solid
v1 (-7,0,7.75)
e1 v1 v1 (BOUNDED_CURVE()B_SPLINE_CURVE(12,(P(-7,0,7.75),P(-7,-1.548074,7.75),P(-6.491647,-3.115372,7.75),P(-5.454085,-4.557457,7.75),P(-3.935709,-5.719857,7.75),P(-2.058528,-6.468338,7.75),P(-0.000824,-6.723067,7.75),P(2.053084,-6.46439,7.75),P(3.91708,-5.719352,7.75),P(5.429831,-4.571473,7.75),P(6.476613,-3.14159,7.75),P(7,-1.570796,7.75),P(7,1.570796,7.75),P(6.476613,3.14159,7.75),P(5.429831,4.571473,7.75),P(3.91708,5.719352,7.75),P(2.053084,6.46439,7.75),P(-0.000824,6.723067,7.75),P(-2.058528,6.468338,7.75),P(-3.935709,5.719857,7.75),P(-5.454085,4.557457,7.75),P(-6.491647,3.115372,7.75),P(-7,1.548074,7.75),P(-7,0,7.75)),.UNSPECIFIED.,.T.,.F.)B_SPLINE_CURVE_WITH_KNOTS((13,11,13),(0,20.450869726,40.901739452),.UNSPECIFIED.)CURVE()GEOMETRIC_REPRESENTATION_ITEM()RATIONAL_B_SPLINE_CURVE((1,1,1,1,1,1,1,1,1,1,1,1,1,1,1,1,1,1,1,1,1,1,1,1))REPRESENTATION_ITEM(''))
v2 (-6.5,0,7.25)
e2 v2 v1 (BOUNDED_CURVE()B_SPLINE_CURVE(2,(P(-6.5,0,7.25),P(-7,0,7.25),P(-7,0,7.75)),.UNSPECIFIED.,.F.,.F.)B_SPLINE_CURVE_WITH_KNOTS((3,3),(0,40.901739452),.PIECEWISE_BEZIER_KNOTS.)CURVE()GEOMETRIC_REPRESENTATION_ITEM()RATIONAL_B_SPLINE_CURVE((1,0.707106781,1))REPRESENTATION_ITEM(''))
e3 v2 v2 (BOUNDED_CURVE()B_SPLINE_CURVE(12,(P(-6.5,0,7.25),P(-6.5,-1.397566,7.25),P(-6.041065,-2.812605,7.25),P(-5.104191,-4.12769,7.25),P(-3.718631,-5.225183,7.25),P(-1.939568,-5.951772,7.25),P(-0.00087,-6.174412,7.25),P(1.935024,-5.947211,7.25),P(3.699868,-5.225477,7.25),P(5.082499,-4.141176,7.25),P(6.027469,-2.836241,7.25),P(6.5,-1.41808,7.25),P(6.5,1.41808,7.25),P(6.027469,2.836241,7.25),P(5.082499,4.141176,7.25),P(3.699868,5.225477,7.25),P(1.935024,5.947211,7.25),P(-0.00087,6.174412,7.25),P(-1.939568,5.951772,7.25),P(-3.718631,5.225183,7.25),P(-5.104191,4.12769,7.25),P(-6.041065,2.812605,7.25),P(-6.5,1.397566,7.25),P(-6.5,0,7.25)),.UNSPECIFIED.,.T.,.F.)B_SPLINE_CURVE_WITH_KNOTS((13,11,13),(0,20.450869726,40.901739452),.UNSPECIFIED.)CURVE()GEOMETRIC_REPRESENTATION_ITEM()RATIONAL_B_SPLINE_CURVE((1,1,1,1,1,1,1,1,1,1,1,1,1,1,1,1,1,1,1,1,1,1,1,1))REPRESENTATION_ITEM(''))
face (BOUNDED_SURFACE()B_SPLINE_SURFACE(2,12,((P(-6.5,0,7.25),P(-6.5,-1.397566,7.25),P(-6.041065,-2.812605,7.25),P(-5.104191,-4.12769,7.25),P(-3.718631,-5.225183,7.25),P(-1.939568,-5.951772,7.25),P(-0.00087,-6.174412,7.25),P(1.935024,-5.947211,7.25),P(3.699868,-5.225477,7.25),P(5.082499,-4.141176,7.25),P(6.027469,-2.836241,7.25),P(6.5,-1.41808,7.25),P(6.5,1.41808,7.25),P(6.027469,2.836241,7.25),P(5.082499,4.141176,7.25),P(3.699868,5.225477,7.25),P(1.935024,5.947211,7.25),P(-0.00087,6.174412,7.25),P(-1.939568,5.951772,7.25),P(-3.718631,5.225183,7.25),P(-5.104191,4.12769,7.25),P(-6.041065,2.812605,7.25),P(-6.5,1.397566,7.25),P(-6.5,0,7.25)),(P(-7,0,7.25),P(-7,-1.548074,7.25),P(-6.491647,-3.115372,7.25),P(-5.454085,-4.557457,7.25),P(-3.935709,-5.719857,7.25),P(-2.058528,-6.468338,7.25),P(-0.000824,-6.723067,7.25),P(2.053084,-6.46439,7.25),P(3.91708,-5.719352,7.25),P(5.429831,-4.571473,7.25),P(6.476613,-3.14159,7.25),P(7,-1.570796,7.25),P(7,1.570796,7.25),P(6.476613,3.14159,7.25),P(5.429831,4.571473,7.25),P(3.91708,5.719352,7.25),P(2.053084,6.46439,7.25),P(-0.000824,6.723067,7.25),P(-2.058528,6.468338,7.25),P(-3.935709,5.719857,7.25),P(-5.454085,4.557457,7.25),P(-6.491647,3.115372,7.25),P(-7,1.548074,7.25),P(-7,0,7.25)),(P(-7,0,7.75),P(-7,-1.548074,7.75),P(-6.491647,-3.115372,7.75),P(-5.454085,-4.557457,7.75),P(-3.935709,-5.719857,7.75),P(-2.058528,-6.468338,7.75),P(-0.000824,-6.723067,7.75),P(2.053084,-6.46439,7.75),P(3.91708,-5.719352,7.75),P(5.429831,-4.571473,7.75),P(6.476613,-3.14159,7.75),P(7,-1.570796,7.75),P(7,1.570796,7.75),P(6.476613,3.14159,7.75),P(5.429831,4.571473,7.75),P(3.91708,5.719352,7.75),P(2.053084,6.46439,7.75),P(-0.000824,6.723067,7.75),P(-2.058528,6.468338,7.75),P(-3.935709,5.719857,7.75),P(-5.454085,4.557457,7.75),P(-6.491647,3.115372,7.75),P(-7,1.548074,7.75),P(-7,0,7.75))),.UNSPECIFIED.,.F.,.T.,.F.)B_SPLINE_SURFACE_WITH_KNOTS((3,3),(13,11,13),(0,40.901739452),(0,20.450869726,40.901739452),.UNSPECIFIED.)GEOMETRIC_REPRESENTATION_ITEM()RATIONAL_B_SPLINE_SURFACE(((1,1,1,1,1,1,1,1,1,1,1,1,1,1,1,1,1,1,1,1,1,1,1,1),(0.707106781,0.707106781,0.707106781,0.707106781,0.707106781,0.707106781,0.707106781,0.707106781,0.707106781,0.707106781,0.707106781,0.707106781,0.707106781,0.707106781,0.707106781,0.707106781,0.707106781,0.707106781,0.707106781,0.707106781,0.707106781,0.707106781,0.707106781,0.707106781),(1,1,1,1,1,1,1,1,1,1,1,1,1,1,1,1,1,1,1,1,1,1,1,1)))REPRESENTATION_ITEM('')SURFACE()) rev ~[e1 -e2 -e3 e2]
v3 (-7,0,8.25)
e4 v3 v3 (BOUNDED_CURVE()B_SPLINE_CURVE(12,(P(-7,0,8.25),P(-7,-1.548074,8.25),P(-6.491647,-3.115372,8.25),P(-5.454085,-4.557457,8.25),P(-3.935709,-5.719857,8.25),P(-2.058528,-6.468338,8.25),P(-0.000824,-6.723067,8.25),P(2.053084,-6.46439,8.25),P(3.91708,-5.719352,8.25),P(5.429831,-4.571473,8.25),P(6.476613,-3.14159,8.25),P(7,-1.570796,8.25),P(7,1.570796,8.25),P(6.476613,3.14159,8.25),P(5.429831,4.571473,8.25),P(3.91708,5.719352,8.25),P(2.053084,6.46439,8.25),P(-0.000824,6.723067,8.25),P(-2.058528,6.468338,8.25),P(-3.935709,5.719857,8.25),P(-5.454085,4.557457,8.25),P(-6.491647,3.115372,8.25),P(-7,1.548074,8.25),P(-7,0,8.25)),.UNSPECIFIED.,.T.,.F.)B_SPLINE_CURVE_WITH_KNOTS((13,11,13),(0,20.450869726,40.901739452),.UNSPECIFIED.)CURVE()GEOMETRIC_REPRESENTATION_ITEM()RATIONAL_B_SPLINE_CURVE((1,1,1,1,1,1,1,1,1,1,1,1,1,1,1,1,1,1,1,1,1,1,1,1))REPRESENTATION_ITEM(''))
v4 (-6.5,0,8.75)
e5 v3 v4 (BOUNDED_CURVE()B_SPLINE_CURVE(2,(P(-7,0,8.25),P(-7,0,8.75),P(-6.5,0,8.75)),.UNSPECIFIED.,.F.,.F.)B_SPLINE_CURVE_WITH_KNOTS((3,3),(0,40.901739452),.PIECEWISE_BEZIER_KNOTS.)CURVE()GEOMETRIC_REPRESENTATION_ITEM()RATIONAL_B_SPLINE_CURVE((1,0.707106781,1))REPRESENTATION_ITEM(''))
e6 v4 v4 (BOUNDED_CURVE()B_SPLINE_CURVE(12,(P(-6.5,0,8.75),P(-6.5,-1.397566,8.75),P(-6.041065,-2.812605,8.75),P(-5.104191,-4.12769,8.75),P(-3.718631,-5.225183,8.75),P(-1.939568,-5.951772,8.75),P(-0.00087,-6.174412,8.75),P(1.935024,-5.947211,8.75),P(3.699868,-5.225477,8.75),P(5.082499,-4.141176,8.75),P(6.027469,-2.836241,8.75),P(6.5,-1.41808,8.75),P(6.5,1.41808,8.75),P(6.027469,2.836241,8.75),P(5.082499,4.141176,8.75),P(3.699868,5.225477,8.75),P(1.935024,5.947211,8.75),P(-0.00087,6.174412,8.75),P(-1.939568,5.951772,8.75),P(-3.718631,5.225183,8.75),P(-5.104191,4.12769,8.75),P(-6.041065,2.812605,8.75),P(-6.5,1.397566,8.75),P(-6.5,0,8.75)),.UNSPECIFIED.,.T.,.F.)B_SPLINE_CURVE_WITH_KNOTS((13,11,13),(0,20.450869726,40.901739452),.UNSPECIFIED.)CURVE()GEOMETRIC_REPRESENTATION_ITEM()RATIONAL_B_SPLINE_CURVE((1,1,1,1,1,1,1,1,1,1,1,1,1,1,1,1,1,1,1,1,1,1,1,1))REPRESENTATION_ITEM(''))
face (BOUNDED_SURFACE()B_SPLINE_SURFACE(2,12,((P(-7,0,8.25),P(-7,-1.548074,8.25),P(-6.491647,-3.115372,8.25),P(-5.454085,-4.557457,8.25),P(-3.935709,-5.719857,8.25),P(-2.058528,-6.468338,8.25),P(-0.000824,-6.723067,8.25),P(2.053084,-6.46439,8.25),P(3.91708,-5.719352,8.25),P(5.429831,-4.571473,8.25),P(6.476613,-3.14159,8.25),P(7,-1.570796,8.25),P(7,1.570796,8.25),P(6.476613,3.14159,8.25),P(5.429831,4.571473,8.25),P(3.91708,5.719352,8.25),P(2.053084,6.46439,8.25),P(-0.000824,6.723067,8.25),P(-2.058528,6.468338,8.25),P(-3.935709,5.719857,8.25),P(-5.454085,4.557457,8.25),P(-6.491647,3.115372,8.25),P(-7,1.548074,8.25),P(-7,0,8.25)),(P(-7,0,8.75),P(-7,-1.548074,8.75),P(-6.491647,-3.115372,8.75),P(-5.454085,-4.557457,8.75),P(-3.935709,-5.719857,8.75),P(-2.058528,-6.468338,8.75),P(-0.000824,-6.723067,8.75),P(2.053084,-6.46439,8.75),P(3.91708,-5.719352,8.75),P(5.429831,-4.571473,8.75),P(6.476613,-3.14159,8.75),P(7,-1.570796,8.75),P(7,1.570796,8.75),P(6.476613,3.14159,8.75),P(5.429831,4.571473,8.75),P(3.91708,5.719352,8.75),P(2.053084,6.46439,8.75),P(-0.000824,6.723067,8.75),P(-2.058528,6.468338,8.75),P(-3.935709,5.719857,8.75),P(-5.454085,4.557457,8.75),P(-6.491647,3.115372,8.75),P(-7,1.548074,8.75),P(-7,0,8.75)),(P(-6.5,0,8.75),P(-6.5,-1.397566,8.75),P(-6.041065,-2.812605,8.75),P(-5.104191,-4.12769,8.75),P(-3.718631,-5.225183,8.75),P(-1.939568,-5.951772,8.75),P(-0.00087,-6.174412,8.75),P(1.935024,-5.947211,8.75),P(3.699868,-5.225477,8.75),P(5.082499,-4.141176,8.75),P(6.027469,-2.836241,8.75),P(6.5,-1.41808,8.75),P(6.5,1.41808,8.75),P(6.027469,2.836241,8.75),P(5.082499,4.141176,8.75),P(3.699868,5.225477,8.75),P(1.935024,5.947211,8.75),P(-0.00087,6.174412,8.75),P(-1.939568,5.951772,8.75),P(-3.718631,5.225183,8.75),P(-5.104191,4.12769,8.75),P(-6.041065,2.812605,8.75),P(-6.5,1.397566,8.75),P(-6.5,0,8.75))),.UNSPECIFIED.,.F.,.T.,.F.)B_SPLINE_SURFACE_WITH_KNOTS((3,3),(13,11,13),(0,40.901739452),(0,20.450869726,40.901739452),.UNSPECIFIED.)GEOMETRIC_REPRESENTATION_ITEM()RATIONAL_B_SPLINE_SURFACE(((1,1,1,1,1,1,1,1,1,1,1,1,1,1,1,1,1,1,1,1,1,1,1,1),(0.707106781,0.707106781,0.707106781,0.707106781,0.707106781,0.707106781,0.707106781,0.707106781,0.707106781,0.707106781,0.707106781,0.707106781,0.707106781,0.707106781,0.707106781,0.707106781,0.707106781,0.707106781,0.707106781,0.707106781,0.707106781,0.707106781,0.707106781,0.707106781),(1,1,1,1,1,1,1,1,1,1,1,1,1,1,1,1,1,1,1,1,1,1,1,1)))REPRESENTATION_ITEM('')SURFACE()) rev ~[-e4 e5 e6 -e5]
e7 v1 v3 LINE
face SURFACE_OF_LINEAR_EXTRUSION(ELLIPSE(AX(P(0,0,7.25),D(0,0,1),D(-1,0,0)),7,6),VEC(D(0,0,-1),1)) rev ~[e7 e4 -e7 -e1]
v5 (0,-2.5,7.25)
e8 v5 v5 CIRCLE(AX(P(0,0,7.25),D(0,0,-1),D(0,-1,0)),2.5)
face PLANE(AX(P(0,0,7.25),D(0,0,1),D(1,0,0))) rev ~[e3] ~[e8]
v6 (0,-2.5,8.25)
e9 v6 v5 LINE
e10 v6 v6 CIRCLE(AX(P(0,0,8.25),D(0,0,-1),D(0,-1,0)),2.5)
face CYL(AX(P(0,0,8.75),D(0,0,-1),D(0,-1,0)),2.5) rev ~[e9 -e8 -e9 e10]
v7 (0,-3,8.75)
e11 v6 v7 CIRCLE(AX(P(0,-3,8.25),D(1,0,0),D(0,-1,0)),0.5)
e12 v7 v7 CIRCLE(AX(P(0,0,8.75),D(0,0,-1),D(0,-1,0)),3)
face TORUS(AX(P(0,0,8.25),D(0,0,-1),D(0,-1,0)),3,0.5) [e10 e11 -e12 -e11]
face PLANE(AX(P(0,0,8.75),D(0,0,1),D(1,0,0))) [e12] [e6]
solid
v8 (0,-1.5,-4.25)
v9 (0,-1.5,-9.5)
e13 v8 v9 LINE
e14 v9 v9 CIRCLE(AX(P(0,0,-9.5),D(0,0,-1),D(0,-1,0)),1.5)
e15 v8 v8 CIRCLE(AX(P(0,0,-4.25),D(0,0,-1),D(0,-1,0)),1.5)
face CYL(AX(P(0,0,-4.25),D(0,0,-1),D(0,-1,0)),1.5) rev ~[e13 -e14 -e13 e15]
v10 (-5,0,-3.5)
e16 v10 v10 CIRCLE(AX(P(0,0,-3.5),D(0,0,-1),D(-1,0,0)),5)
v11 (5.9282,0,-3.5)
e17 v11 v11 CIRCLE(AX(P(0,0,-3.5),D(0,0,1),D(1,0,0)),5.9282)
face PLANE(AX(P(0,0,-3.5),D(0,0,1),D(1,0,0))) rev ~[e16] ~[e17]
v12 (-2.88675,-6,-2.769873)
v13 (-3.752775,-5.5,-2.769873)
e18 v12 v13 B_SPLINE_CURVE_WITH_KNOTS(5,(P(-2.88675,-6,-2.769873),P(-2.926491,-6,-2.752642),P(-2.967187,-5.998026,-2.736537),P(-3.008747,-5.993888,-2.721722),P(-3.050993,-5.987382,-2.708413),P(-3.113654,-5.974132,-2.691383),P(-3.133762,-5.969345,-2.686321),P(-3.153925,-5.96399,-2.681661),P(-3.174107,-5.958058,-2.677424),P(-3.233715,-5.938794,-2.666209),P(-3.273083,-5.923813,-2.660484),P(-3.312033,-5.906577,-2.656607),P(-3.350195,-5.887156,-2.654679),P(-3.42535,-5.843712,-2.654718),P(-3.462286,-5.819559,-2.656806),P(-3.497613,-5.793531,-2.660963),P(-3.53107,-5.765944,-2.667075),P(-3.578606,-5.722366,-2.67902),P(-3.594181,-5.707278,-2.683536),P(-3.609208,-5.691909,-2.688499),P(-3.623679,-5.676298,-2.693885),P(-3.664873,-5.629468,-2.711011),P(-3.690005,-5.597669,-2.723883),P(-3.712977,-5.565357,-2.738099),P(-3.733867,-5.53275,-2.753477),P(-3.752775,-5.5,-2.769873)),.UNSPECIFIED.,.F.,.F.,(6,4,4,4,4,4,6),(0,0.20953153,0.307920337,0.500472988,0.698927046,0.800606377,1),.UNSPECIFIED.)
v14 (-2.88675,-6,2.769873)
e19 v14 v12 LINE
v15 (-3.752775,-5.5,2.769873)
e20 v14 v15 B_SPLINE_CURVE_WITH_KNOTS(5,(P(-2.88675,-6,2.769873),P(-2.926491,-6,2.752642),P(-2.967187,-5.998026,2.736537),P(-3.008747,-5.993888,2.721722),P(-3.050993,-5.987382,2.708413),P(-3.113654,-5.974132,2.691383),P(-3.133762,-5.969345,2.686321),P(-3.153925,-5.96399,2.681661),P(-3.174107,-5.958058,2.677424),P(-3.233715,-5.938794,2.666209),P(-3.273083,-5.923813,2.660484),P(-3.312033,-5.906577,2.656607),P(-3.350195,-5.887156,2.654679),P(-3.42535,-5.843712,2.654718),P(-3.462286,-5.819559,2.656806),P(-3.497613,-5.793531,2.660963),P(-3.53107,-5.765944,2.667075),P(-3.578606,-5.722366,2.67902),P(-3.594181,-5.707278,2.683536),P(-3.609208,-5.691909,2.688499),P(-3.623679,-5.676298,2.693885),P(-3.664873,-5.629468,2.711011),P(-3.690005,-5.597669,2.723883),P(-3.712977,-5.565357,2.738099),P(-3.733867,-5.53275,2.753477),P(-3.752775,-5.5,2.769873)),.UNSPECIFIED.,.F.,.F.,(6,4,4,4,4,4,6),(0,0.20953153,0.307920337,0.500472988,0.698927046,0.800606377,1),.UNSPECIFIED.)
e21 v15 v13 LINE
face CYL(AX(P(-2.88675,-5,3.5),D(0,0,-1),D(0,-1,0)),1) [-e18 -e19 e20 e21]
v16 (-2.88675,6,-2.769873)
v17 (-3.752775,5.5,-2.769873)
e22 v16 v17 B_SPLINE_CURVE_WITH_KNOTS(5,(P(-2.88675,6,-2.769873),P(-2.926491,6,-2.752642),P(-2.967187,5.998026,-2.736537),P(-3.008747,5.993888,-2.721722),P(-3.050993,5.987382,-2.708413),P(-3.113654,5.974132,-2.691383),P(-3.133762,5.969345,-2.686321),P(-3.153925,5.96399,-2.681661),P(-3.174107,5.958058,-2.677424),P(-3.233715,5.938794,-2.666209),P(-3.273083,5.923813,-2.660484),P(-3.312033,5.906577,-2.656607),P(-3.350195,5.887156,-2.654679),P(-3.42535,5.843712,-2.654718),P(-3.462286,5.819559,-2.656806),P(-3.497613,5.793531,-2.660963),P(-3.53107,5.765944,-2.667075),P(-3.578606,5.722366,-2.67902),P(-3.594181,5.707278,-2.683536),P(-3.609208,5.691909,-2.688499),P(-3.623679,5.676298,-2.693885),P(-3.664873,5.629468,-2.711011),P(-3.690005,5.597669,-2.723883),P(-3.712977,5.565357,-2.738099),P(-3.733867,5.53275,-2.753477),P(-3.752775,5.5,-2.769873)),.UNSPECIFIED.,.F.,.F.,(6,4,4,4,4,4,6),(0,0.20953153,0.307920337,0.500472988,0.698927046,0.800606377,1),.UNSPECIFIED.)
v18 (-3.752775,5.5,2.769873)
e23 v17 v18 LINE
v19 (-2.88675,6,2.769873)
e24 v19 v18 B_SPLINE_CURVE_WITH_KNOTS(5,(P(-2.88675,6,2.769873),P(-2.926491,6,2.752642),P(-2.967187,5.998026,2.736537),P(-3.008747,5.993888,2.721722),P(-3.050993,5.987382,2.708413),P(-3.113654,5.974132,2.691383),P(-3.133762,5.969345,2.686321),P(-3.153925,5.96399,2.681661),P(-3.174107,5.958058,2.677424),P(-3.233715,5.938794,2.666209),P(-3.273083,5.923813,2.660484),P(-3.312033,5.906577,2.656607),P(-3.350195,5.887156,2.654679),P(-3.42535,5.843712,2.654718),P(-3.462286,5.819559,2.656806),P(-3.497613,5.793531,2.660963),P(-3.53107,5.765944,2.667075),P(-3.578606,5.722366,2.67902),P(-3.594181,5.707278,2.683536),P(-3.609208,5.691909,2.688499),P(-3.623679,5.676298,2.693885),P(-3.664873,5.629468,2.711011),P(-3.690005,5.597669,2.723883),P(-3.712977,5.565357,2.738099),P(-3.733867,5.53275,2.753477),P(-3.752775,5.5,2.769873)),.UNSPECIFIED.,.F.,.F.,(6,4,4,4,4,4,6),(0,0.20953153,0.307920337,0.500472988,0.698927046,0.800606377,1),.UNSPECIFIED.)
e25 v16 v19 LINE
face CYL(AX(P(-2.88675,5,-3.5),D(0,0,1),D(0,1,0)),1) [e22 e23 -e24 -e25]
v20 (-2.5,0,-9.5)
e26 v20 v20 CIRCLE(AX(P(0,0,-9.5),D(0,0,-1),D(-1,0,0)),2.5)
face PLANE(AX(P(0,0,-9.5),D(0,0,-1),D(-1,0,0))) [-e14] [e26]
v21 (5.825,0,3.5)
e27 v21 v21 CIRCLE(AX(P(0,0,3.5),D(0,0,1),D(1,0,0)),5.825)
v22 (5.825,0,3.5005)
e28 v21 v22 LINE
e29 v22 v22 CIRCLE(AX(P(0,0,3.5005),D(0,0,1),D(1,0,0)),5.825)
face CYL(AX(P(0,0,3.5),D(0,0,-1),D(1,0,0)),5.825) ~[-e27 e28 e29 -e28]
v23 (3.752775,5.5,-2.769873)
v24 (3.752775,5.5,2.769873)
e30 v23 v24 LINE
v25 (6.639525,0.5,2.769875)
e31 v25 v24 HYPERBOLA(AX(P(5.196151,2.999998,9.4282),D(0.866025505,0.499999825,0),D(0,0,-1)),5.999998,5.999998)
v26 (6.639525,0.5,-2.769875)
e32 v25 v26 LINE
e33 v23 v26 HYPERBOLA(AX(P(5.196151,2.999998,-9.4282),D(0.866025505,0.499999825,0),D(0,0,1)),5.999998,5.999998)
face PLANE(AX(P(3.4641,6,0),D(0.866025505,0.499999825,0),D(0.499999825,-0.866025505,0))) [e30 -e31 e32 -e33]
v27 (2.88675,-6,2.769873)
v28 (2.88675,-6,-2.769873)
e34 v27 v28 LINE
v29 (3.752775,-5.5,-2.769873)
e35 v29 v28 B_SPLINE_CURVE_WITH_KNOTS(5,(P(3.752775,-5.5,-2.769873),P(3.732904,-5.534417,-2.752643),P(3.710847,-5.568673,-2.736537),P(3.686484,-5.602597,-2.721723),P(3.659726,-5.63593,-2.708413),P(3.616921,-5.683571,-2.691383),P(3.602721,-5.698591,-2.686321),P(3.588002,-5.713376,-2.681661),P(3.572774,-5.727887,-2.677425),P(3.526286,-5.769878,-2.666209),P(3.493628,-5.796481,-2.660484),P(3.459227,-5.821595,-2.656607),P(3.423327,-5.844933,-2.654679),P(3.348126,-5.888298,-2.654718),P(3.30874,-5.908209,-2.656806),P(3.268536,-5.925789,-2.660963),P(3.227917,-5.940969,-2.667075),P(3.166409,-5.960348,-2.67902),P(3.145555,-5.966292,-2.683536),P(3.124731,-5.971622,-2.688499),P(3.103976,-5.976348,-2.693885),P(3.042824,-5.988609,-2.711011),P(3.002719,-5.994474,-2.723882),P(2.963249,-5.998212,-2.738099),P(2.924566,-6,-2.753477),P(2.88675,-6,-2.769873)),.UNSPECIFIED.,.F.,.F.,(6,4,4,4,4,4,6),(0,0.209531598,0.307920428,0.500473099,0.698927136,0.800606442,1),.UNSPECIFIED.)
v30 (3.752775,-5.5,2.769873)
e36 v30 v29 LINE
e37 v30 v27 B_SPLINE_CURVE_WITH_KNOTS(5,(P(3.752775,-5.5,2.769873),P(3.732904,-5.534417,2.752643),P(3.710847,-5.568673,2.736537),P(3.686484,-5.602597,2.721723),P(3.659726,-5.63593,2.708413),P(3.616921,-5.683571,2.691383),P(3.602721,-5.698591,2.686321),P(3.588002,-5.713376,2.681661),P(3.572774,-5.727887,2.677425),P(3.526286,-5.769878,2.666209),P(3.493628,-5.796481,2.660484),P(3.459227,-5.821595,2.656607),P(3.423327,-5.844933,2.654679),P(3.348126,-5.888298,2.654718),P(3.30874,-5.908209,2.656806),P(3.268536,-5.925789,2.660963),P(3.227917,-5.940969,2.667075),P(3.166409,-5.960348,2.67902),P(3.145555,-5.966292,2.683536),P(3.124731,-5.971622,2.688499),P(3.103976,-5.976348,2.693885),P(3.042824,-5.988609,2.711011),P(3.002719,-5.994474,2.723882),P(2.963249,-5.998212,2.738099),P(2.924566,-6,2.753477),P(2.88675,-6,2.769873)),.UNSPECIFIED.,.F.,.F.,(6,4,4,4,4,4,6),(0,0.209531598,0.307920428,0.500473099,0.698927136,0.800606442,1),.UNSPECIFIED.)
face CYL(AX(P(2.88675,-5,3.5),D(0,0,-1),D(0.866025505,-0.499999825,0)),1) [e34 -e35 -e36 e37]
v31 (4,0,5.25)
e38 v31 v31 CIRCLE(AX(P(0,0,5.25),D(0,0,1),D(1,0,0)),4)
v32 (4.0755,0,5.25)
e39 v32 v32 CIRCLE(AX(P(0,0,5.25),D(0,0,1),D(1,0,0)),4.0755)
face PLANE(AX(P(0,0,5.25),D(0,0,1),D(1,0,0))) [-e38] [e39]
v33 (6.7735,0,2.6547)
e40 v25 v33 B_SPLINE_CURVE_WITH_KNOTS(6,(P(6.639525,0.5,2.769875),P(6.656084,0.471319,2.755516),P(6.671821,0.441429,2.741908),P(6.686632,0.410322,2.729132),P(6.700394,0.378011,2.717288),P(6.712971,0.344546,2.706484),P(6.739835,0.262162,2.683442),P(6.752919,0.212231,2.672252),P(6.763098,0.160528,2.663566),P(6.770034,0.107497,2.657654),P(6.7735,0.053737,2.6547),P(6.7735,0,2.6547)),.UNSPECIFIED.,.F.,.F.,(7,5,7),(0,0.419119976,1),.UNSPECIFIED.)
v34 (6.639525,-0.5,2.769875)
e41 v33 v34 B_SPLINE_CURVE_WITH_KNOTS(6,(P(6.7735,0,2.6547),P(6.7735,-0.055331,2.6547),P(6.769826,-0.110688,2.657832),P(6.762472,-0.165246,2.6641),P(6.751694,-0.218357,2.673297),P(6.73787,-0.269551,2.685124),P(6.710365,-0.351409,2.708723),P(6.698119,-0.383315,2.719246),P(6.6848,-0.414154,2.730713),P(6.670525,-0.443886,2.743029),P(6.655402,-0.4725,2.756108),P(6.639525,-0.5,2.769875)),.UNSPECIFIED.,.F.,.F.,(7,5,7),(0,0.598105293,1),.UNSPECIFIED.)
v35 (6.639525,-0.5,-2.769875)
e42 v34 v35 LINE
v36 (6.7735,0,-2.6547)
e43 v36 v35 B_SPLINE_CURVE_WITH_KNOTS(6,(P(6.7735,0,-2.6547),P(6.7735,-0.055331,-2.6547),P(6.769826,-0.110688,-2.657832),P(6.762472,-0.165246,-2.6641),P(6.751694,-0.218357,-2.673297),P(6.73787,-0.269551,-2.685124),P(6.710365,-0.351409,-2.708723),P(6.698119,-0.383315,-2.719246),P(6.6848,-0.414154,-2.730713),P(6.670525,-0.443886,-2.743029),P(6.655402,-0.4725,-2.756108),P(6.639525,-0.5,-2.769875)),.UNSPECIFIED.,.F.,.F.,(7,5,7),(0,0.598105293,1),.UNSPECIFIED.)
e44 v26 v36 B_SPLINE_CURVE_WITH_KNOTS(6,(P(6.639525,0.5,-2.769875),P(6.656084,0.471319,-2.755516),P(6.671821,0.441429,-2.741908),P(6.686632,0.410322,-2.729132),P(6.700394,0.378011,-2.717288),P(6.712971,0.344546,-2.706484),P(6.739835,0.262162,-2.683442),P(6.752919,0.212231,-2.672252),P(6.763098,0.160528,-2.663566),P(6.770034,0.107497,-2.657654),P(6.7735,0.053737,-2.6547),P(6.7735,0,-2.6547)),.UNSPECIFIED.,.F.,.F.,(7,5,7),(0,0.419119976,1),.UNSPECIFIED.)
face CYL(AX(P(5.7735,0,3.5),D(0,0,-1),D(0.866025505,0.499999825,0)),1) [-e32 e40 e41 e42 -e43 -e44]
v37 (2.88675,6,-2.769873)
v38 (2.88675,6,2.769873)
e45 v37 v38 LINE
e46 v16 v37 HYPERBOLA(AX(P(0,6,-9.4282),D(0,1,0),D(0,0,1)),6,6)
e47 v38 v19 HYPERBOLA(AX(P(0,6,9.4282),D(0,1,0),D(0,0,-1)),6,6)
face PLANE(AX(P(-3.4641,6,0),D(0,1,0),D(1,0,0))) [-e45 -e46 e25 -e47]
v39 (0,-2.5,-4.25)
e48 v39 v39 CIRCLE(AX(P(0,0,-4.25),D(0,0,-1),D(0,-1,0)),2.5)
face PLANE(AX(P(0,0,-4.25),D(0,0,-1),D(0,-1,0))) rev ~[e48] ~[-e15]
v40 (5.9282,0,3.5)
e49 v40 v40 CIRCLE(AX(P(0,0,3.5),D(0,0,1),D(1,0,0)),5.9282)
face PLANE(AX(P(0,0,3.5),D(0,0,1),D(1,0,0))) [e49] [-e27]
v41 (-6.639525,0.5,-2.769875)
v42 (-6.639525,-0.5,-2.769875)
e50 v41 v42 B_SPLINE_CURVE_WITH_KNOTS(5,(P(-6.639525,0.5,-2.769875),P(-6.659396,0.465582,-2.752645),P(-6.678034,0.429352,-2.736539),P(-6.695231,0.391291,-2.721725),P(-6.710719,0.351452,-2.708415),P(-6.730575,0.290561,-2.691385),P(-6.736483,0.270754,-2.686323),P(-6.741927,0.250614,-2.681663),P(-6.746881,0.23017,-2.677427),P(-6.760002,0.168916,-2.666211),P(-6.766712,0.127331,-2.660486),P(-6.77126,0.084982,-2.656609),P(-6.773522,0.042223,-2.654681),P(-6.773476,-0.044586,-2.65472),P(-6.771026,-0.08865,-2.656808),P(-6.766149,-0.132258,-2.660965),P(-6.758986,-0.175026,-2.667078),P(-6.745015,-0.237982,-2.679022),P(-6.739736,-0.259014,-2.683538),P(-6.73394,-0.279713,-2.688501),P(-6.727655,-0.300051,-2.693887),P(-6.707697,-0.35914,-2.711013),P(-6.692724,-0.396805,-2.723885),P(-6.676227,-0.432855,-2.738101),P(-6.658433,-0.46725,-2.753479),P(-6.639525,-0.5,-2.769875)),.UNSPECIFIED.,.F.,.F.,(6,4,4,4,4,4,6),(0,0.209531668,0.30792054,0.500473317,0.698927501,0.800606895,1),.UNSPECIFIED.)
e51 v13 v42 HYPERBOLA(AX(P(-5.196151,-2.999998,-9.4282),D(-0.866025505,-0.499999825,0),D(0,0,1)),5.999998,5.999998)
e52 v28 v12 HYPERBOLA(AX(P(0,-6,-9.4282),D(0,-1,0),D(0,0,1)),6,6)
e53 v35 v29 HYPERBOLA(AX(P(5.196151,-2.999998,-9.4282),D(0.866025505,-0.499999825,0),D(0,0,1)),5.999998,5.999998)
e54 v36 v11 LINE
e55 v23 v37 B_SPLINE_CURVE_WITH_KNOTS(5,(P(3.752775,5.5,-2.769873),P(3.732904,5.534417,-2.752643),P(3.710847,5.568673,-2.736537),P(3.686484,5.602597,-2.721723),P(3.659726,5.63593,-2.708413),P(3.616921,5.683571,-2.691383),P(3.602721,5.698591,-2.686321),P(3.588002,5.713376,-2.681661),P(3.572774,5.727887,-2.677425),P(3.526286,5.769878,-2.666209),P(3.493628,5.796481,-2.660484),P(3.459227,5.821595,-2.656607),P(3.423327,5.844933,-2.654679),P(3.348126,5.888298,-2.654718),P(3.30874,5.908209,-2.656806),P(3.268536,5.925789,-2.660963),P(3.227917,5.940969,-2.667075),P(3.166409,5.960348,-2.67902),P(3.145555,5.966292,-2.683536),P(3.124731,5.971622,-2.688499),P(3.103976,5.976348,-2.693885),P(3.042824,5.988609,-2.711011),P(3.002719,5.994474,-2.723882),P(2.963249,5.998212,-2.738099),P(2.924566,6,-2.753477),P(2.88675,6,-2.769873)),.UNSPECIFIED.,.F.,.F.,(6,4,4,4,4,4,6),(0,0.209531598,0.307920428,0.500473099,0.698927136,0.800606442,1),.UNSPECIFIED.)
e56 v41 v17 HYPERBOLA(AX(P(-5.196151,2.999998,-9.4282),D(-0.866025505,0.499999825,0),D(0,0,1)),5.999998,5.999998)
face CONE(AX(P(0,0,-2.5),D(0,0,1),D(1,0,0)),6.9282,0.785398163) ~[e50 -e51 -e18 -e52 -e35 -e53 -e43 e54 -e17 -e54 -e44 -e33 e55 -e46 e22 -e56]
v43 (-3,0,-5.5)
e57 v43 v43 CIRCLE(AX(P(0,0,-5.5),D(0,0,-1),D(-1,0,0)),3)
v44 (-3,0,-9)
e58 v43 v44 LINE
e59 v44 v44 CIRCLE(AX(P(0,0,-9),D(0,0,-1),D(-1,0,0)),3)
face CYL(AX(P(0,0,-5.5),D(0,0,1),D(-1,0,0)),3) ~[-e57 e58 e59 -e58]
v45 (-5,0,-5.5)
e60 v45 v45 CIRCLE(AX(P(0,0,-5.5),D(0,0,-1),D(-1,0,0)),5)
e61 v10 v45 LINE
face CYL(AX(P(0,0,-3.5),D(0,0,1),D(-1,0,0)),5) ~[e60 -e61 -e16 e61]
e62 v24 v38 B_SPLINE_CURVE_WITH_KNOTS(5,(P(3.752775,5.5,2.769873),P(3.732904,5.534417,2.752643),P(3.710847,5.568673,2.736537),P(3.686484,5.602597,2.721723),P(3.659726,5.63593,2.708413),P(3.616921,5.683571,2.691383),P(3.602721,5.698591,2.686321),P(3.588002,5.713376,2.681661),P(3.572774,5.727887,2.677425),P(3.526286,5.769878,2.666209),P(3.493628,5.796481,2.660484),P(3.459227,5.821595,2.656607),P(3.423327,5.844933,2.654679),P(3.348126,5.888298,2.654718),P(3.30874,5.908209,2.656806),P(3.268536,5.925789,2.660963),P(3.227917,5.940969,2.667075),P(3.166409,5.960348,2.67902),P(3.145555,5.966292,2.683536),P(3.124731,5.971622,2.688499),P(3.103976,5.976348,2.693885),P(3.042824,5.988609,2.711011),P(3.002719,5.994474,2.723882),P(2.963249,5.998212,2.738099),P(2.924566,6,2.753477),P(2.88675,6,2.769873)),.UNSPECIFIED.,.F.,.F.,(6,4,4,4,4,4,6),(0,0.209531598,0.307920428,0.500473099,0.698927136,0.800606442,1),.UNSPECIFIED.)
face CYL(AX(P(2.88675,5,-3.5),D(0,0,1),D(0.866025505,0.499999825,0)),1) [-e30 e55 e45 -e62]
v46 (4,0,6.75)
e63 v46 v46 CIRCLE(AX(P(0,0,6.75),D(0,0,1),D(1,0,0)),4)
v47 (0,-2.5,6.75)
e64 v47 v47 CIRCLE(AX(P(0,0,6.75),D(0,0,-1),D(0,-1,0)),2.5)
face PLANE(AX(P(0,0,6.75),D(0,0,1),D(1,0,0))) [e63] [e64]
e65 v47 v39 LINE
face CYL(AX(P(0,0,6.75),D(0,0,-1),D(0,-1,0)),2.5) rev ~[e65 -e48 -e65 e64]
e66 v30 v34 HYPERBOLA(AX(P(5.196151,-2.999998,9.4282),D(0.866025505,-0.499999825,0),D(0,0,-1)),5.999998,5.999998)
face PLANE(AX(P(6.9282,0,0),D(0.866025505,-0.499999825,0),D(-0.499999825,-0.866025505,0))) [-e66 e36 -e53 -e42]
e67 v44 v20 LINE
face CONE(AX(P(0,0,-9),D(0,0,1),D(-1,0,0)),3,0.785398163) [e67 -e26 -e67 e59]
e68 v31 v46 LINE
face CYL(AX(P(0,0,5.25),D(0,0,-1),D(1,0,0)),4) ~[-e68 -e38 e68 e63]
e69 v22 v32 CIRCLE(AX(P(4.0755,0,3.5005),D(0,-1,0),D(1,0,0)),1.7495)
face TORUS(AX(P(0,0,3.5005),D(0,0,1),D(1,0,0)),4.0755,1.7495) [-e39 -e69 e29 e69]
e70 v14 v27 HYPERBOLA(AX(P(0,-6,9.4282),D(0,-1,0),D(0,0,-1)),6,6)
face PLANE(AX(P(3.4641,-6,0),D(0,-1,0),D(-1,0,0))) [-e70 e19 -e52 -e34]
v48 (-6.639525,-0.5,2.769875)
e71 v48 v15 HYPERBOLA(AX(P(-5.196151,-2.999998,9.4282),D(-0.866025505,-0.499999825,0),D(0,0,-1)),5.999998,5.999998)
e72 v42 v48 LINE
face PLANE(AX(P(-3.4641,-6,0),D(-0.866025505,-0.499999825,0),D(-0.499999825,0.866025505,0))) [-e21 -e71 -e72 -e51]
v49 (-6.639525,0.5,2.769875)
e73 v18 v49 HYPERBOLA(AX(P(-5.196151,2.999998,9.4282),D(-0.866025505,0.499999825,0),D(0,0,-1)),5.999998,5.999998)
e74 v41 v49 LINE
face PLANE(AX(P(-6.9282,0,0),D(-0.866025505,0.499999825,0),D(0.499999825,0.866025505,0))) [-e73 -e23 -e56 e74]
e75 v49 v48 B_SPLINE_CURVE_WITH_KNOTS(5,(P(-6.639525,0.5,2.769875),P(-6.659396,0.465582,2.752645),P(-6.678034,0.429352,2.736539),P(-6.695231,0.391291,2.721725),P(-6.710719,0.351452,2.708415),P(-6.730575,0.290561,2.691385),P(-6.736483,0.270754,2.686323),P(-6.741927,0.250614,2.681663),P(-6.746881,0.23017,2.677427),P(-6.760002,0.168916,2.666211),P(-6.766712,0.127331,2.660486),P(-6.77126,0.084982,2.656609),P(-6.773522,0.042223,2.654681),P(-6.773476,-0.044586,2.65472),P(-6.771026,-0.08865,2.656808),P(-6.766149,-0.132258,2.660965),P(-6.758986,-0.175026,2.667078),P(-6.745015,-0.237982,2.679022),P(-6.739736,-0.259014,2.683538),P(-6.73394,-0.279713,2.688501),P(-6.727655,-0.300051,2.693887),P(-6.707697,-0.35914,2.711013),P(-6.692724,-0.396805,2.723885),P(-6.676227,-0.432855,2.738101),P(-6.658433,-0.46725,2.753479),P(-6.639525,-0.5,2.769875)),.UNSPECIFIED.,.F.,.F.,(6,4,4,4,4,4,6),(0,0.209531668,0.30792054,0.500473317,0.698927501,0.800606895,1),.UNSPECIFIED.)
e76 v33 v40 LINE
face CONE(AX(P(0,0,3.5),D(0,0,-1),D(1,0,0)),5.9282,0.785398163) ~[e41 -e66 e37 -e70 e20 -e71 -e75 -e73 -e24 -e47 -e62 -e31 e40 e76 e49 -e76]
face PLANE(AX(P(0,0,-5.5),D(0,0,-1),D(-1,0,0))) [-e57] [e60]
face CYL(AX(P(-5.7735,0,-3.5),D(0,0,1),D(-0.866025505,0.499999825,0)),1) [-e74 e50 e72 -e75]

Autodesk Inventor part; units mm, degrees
ref_plane "YZ Plane" through (0, 0, 0) normal (1, 0, 0) x (0, 1, 0)
ref_plane "XZ Plane" through (0, 0, 0) normal (0, 1, 0) x (-1, 0, 0)
sketch "Esquisse1" plane through (0, 0, 0) normal (0, 0, 1) x (1, 0, 0)
  line L0 (3.4641, 6) -> (6.9282, 0)
  line L1 (6.9282, 0) -> (3.4641, -6)
  line L2 (3.4641, -6) -> (-3.4641, -6)
  line L3 (-3.4641, -6) -> (-6.9282, 0)
  line L4 (-6.9282, 0) -> (-3.4641, 6)
  line L5 (-3.4641, 6) -> (3.4641, 6)
  point P0 (0, 0)
  point P1 (0, 0)
  dimension "d0" = 12
extrude "Extrusion1" add sketch "Esquisse1" along normal mid plane 7
fillet "Congé2" radius 1 6 edges at (-6.9282, 0, 0) (-3.4641, -6, 0) (3.4641, -6, 0) (6.9282, 0, 0) (3.4641, 6, 0) (-3.4641, 6, 0)
sketch "Esquisse5" plane through (0, 0, 0) normal (0, 1, 0) x (-1, 0, 0)
  line L0 (-6.9282, 3.5) -> (-3.4641, 3.5) projected
  line L1 (-5.9282, 3.5) -> (-6.9282, 2.5)
  line L2 (-6.9282, 2.5) -> (-6.9282, -2.5)
  line L3 (-6.9282, -2.5) -> (-5.9282, -3.5)
  line L4 (-3.4641, -3.5) -> (-6.9282, -3.5) projected
  line L5 (-5.9282, -4.5) -> (-5.9282, -3.5)
  line L6 (-5.9282, -4.5) -> (-7.9282, -4.5)
  line L7 (-7.9282, -4.5) -> (-7.9282, 4.5)
  line L8 (-7.9282, 4.5) -> (-5.9282, 4.5)
  line L9 (-5.9282, 4.5) -> (-5.9282, 3.5)
  line L10 (-6.6395, 3.5) -> (-3.7528, 3.5) construction
  line L11 (-3.7528, -3.5) -> (-6.6395, -3.5) construction
  line L12 (0, -6.3) -> (0, 6.3) projected
  line L13 (-3.7528, 3.5) -> (-3.7528, -3.5) projected
  line L14 (-6.6395, -3.5) -> (-6.6395, 3.5) projected
  point P0 (0, 0)
  dimension "d13" = 45
  dimension "d14" = 1
  dimension "d15" = 1
  dimension "d16" = 1
  dimension "d17" = 1
revolve "Révolution1" cut sketch "Esquisse5" angle 360 about axis through (0, 0, -10) along (0, 0, 1) contours L14 L1 L2 L3 L4 L5 L6 L7 L8 L9 L0 | L0 L1 L14 | L3 L4 L14
sketch "Esquisse2" plane through (0, 0, -3.5) normal (0, 0, -1) x (-1, 0, 0)
  circle A0 centre (0, 0) radius 5
  dimension "d3" = 10
extrude "Extrusion2" add sketch "Esquisse2" along normal blind 2
sketch "Esquisse3" plane through (0, 0, -5.5) normal (0, 0, -1) x (-1, 0, 0)
  circle A0 centre (0, 0) radius 3
  dimension "d6" = 6
extrude "Extrusion3" add sketch "Esquisse3" along normal blind 4
chamfer "Chanfrein1" distance 0.5 angle 45 1 edges at (3, 0, -9.5)
sketch "Esquisse4" plane through (0, 0, 3.5) normal (0, 0, 1) x (1, 0, 0)
  circle A0 centre (0, 0) radius 5.825
  dimension "d9" = 11.65
extrude "Extrusion4" add sketch "Esquisse4" along normal blind 1.75
fillet "Congé1" radius 1.75 1 edges at (-5.825, 0, 5.25)
sketch "Esquisse6" plane through (0, 0, 5.25) normal (0, 0, 1) x (1, 0, 0)
  circle A0 centre (0, 0) radius 4
  dimension "d20" = 8
extrude "Extrusion5" add sketch "Esquisse6" along normal blind 1.5
thread "Filetage1" size "M6x1" class "6g" standard "ANSI Metric M Profile" full length
sketch "Esquisse7" plane through (0, 0, 6.75) normal (0, 0, 1) x (1, 0, 0)
  point P0 (0, 0)
  point P1 (0, 0)
hole "Perçage1" at (0, 0, 6.75) direction (0, 0, -1) diameter 3 end through all counterbore diameter 5 counterbore depth 11
ref_plane "Plan de construction1" through (0, 0, 7.25) normal (0, 0, 1) x (1, 0, 0)
sketch "Esquisse8" plane through (0, 0, 7.25) normal (0, 0, 1) x (1, 0, 0)
  circle A0 centre (0, 0) radius 1.5 projected
  ellipse E0 centre (0, 0) end of major axis (-7, 0) minor radius 6
  dimension "d33" = 6
  dimension "d34" = 7
extrude "Extrusion6" add sketch "Esquisse8" along normal blind 1.5 separate body contours A0 | E0
sketch "Esquisse9" plane through (0, 0, 7.25) normal (0, 0, -1) x (-1, 0, 0)
  circle A0 centre (0, 0) radius 2.45
  dimension "d37" = 4.9
extrude "Extrusion7" add sketch "Esquisse9" along normal blind 3 bodies 2
sketch "Esquisse10" plane through (0, 0, 8.75) normal (0, 0, 1) x (1, 0, 0)
  point P0 (0, 0)
  point P1 (0, 0)
hole "Perçage2" at (0, 0, 8.75) direction (0, 0, -1) diameter 5 end through all bodies 2
fillet "Congé3" radius 0.5 3 edges at (0, 2.5, 8.75) (7, 0, 8.75) (7, 0, 7.25)
equation "\"d15\" = d14"
equation "\"d12\" = d10"
equation "\"d10\" = 1.75"
properties part number "Clip pneumatique" material "----------"
